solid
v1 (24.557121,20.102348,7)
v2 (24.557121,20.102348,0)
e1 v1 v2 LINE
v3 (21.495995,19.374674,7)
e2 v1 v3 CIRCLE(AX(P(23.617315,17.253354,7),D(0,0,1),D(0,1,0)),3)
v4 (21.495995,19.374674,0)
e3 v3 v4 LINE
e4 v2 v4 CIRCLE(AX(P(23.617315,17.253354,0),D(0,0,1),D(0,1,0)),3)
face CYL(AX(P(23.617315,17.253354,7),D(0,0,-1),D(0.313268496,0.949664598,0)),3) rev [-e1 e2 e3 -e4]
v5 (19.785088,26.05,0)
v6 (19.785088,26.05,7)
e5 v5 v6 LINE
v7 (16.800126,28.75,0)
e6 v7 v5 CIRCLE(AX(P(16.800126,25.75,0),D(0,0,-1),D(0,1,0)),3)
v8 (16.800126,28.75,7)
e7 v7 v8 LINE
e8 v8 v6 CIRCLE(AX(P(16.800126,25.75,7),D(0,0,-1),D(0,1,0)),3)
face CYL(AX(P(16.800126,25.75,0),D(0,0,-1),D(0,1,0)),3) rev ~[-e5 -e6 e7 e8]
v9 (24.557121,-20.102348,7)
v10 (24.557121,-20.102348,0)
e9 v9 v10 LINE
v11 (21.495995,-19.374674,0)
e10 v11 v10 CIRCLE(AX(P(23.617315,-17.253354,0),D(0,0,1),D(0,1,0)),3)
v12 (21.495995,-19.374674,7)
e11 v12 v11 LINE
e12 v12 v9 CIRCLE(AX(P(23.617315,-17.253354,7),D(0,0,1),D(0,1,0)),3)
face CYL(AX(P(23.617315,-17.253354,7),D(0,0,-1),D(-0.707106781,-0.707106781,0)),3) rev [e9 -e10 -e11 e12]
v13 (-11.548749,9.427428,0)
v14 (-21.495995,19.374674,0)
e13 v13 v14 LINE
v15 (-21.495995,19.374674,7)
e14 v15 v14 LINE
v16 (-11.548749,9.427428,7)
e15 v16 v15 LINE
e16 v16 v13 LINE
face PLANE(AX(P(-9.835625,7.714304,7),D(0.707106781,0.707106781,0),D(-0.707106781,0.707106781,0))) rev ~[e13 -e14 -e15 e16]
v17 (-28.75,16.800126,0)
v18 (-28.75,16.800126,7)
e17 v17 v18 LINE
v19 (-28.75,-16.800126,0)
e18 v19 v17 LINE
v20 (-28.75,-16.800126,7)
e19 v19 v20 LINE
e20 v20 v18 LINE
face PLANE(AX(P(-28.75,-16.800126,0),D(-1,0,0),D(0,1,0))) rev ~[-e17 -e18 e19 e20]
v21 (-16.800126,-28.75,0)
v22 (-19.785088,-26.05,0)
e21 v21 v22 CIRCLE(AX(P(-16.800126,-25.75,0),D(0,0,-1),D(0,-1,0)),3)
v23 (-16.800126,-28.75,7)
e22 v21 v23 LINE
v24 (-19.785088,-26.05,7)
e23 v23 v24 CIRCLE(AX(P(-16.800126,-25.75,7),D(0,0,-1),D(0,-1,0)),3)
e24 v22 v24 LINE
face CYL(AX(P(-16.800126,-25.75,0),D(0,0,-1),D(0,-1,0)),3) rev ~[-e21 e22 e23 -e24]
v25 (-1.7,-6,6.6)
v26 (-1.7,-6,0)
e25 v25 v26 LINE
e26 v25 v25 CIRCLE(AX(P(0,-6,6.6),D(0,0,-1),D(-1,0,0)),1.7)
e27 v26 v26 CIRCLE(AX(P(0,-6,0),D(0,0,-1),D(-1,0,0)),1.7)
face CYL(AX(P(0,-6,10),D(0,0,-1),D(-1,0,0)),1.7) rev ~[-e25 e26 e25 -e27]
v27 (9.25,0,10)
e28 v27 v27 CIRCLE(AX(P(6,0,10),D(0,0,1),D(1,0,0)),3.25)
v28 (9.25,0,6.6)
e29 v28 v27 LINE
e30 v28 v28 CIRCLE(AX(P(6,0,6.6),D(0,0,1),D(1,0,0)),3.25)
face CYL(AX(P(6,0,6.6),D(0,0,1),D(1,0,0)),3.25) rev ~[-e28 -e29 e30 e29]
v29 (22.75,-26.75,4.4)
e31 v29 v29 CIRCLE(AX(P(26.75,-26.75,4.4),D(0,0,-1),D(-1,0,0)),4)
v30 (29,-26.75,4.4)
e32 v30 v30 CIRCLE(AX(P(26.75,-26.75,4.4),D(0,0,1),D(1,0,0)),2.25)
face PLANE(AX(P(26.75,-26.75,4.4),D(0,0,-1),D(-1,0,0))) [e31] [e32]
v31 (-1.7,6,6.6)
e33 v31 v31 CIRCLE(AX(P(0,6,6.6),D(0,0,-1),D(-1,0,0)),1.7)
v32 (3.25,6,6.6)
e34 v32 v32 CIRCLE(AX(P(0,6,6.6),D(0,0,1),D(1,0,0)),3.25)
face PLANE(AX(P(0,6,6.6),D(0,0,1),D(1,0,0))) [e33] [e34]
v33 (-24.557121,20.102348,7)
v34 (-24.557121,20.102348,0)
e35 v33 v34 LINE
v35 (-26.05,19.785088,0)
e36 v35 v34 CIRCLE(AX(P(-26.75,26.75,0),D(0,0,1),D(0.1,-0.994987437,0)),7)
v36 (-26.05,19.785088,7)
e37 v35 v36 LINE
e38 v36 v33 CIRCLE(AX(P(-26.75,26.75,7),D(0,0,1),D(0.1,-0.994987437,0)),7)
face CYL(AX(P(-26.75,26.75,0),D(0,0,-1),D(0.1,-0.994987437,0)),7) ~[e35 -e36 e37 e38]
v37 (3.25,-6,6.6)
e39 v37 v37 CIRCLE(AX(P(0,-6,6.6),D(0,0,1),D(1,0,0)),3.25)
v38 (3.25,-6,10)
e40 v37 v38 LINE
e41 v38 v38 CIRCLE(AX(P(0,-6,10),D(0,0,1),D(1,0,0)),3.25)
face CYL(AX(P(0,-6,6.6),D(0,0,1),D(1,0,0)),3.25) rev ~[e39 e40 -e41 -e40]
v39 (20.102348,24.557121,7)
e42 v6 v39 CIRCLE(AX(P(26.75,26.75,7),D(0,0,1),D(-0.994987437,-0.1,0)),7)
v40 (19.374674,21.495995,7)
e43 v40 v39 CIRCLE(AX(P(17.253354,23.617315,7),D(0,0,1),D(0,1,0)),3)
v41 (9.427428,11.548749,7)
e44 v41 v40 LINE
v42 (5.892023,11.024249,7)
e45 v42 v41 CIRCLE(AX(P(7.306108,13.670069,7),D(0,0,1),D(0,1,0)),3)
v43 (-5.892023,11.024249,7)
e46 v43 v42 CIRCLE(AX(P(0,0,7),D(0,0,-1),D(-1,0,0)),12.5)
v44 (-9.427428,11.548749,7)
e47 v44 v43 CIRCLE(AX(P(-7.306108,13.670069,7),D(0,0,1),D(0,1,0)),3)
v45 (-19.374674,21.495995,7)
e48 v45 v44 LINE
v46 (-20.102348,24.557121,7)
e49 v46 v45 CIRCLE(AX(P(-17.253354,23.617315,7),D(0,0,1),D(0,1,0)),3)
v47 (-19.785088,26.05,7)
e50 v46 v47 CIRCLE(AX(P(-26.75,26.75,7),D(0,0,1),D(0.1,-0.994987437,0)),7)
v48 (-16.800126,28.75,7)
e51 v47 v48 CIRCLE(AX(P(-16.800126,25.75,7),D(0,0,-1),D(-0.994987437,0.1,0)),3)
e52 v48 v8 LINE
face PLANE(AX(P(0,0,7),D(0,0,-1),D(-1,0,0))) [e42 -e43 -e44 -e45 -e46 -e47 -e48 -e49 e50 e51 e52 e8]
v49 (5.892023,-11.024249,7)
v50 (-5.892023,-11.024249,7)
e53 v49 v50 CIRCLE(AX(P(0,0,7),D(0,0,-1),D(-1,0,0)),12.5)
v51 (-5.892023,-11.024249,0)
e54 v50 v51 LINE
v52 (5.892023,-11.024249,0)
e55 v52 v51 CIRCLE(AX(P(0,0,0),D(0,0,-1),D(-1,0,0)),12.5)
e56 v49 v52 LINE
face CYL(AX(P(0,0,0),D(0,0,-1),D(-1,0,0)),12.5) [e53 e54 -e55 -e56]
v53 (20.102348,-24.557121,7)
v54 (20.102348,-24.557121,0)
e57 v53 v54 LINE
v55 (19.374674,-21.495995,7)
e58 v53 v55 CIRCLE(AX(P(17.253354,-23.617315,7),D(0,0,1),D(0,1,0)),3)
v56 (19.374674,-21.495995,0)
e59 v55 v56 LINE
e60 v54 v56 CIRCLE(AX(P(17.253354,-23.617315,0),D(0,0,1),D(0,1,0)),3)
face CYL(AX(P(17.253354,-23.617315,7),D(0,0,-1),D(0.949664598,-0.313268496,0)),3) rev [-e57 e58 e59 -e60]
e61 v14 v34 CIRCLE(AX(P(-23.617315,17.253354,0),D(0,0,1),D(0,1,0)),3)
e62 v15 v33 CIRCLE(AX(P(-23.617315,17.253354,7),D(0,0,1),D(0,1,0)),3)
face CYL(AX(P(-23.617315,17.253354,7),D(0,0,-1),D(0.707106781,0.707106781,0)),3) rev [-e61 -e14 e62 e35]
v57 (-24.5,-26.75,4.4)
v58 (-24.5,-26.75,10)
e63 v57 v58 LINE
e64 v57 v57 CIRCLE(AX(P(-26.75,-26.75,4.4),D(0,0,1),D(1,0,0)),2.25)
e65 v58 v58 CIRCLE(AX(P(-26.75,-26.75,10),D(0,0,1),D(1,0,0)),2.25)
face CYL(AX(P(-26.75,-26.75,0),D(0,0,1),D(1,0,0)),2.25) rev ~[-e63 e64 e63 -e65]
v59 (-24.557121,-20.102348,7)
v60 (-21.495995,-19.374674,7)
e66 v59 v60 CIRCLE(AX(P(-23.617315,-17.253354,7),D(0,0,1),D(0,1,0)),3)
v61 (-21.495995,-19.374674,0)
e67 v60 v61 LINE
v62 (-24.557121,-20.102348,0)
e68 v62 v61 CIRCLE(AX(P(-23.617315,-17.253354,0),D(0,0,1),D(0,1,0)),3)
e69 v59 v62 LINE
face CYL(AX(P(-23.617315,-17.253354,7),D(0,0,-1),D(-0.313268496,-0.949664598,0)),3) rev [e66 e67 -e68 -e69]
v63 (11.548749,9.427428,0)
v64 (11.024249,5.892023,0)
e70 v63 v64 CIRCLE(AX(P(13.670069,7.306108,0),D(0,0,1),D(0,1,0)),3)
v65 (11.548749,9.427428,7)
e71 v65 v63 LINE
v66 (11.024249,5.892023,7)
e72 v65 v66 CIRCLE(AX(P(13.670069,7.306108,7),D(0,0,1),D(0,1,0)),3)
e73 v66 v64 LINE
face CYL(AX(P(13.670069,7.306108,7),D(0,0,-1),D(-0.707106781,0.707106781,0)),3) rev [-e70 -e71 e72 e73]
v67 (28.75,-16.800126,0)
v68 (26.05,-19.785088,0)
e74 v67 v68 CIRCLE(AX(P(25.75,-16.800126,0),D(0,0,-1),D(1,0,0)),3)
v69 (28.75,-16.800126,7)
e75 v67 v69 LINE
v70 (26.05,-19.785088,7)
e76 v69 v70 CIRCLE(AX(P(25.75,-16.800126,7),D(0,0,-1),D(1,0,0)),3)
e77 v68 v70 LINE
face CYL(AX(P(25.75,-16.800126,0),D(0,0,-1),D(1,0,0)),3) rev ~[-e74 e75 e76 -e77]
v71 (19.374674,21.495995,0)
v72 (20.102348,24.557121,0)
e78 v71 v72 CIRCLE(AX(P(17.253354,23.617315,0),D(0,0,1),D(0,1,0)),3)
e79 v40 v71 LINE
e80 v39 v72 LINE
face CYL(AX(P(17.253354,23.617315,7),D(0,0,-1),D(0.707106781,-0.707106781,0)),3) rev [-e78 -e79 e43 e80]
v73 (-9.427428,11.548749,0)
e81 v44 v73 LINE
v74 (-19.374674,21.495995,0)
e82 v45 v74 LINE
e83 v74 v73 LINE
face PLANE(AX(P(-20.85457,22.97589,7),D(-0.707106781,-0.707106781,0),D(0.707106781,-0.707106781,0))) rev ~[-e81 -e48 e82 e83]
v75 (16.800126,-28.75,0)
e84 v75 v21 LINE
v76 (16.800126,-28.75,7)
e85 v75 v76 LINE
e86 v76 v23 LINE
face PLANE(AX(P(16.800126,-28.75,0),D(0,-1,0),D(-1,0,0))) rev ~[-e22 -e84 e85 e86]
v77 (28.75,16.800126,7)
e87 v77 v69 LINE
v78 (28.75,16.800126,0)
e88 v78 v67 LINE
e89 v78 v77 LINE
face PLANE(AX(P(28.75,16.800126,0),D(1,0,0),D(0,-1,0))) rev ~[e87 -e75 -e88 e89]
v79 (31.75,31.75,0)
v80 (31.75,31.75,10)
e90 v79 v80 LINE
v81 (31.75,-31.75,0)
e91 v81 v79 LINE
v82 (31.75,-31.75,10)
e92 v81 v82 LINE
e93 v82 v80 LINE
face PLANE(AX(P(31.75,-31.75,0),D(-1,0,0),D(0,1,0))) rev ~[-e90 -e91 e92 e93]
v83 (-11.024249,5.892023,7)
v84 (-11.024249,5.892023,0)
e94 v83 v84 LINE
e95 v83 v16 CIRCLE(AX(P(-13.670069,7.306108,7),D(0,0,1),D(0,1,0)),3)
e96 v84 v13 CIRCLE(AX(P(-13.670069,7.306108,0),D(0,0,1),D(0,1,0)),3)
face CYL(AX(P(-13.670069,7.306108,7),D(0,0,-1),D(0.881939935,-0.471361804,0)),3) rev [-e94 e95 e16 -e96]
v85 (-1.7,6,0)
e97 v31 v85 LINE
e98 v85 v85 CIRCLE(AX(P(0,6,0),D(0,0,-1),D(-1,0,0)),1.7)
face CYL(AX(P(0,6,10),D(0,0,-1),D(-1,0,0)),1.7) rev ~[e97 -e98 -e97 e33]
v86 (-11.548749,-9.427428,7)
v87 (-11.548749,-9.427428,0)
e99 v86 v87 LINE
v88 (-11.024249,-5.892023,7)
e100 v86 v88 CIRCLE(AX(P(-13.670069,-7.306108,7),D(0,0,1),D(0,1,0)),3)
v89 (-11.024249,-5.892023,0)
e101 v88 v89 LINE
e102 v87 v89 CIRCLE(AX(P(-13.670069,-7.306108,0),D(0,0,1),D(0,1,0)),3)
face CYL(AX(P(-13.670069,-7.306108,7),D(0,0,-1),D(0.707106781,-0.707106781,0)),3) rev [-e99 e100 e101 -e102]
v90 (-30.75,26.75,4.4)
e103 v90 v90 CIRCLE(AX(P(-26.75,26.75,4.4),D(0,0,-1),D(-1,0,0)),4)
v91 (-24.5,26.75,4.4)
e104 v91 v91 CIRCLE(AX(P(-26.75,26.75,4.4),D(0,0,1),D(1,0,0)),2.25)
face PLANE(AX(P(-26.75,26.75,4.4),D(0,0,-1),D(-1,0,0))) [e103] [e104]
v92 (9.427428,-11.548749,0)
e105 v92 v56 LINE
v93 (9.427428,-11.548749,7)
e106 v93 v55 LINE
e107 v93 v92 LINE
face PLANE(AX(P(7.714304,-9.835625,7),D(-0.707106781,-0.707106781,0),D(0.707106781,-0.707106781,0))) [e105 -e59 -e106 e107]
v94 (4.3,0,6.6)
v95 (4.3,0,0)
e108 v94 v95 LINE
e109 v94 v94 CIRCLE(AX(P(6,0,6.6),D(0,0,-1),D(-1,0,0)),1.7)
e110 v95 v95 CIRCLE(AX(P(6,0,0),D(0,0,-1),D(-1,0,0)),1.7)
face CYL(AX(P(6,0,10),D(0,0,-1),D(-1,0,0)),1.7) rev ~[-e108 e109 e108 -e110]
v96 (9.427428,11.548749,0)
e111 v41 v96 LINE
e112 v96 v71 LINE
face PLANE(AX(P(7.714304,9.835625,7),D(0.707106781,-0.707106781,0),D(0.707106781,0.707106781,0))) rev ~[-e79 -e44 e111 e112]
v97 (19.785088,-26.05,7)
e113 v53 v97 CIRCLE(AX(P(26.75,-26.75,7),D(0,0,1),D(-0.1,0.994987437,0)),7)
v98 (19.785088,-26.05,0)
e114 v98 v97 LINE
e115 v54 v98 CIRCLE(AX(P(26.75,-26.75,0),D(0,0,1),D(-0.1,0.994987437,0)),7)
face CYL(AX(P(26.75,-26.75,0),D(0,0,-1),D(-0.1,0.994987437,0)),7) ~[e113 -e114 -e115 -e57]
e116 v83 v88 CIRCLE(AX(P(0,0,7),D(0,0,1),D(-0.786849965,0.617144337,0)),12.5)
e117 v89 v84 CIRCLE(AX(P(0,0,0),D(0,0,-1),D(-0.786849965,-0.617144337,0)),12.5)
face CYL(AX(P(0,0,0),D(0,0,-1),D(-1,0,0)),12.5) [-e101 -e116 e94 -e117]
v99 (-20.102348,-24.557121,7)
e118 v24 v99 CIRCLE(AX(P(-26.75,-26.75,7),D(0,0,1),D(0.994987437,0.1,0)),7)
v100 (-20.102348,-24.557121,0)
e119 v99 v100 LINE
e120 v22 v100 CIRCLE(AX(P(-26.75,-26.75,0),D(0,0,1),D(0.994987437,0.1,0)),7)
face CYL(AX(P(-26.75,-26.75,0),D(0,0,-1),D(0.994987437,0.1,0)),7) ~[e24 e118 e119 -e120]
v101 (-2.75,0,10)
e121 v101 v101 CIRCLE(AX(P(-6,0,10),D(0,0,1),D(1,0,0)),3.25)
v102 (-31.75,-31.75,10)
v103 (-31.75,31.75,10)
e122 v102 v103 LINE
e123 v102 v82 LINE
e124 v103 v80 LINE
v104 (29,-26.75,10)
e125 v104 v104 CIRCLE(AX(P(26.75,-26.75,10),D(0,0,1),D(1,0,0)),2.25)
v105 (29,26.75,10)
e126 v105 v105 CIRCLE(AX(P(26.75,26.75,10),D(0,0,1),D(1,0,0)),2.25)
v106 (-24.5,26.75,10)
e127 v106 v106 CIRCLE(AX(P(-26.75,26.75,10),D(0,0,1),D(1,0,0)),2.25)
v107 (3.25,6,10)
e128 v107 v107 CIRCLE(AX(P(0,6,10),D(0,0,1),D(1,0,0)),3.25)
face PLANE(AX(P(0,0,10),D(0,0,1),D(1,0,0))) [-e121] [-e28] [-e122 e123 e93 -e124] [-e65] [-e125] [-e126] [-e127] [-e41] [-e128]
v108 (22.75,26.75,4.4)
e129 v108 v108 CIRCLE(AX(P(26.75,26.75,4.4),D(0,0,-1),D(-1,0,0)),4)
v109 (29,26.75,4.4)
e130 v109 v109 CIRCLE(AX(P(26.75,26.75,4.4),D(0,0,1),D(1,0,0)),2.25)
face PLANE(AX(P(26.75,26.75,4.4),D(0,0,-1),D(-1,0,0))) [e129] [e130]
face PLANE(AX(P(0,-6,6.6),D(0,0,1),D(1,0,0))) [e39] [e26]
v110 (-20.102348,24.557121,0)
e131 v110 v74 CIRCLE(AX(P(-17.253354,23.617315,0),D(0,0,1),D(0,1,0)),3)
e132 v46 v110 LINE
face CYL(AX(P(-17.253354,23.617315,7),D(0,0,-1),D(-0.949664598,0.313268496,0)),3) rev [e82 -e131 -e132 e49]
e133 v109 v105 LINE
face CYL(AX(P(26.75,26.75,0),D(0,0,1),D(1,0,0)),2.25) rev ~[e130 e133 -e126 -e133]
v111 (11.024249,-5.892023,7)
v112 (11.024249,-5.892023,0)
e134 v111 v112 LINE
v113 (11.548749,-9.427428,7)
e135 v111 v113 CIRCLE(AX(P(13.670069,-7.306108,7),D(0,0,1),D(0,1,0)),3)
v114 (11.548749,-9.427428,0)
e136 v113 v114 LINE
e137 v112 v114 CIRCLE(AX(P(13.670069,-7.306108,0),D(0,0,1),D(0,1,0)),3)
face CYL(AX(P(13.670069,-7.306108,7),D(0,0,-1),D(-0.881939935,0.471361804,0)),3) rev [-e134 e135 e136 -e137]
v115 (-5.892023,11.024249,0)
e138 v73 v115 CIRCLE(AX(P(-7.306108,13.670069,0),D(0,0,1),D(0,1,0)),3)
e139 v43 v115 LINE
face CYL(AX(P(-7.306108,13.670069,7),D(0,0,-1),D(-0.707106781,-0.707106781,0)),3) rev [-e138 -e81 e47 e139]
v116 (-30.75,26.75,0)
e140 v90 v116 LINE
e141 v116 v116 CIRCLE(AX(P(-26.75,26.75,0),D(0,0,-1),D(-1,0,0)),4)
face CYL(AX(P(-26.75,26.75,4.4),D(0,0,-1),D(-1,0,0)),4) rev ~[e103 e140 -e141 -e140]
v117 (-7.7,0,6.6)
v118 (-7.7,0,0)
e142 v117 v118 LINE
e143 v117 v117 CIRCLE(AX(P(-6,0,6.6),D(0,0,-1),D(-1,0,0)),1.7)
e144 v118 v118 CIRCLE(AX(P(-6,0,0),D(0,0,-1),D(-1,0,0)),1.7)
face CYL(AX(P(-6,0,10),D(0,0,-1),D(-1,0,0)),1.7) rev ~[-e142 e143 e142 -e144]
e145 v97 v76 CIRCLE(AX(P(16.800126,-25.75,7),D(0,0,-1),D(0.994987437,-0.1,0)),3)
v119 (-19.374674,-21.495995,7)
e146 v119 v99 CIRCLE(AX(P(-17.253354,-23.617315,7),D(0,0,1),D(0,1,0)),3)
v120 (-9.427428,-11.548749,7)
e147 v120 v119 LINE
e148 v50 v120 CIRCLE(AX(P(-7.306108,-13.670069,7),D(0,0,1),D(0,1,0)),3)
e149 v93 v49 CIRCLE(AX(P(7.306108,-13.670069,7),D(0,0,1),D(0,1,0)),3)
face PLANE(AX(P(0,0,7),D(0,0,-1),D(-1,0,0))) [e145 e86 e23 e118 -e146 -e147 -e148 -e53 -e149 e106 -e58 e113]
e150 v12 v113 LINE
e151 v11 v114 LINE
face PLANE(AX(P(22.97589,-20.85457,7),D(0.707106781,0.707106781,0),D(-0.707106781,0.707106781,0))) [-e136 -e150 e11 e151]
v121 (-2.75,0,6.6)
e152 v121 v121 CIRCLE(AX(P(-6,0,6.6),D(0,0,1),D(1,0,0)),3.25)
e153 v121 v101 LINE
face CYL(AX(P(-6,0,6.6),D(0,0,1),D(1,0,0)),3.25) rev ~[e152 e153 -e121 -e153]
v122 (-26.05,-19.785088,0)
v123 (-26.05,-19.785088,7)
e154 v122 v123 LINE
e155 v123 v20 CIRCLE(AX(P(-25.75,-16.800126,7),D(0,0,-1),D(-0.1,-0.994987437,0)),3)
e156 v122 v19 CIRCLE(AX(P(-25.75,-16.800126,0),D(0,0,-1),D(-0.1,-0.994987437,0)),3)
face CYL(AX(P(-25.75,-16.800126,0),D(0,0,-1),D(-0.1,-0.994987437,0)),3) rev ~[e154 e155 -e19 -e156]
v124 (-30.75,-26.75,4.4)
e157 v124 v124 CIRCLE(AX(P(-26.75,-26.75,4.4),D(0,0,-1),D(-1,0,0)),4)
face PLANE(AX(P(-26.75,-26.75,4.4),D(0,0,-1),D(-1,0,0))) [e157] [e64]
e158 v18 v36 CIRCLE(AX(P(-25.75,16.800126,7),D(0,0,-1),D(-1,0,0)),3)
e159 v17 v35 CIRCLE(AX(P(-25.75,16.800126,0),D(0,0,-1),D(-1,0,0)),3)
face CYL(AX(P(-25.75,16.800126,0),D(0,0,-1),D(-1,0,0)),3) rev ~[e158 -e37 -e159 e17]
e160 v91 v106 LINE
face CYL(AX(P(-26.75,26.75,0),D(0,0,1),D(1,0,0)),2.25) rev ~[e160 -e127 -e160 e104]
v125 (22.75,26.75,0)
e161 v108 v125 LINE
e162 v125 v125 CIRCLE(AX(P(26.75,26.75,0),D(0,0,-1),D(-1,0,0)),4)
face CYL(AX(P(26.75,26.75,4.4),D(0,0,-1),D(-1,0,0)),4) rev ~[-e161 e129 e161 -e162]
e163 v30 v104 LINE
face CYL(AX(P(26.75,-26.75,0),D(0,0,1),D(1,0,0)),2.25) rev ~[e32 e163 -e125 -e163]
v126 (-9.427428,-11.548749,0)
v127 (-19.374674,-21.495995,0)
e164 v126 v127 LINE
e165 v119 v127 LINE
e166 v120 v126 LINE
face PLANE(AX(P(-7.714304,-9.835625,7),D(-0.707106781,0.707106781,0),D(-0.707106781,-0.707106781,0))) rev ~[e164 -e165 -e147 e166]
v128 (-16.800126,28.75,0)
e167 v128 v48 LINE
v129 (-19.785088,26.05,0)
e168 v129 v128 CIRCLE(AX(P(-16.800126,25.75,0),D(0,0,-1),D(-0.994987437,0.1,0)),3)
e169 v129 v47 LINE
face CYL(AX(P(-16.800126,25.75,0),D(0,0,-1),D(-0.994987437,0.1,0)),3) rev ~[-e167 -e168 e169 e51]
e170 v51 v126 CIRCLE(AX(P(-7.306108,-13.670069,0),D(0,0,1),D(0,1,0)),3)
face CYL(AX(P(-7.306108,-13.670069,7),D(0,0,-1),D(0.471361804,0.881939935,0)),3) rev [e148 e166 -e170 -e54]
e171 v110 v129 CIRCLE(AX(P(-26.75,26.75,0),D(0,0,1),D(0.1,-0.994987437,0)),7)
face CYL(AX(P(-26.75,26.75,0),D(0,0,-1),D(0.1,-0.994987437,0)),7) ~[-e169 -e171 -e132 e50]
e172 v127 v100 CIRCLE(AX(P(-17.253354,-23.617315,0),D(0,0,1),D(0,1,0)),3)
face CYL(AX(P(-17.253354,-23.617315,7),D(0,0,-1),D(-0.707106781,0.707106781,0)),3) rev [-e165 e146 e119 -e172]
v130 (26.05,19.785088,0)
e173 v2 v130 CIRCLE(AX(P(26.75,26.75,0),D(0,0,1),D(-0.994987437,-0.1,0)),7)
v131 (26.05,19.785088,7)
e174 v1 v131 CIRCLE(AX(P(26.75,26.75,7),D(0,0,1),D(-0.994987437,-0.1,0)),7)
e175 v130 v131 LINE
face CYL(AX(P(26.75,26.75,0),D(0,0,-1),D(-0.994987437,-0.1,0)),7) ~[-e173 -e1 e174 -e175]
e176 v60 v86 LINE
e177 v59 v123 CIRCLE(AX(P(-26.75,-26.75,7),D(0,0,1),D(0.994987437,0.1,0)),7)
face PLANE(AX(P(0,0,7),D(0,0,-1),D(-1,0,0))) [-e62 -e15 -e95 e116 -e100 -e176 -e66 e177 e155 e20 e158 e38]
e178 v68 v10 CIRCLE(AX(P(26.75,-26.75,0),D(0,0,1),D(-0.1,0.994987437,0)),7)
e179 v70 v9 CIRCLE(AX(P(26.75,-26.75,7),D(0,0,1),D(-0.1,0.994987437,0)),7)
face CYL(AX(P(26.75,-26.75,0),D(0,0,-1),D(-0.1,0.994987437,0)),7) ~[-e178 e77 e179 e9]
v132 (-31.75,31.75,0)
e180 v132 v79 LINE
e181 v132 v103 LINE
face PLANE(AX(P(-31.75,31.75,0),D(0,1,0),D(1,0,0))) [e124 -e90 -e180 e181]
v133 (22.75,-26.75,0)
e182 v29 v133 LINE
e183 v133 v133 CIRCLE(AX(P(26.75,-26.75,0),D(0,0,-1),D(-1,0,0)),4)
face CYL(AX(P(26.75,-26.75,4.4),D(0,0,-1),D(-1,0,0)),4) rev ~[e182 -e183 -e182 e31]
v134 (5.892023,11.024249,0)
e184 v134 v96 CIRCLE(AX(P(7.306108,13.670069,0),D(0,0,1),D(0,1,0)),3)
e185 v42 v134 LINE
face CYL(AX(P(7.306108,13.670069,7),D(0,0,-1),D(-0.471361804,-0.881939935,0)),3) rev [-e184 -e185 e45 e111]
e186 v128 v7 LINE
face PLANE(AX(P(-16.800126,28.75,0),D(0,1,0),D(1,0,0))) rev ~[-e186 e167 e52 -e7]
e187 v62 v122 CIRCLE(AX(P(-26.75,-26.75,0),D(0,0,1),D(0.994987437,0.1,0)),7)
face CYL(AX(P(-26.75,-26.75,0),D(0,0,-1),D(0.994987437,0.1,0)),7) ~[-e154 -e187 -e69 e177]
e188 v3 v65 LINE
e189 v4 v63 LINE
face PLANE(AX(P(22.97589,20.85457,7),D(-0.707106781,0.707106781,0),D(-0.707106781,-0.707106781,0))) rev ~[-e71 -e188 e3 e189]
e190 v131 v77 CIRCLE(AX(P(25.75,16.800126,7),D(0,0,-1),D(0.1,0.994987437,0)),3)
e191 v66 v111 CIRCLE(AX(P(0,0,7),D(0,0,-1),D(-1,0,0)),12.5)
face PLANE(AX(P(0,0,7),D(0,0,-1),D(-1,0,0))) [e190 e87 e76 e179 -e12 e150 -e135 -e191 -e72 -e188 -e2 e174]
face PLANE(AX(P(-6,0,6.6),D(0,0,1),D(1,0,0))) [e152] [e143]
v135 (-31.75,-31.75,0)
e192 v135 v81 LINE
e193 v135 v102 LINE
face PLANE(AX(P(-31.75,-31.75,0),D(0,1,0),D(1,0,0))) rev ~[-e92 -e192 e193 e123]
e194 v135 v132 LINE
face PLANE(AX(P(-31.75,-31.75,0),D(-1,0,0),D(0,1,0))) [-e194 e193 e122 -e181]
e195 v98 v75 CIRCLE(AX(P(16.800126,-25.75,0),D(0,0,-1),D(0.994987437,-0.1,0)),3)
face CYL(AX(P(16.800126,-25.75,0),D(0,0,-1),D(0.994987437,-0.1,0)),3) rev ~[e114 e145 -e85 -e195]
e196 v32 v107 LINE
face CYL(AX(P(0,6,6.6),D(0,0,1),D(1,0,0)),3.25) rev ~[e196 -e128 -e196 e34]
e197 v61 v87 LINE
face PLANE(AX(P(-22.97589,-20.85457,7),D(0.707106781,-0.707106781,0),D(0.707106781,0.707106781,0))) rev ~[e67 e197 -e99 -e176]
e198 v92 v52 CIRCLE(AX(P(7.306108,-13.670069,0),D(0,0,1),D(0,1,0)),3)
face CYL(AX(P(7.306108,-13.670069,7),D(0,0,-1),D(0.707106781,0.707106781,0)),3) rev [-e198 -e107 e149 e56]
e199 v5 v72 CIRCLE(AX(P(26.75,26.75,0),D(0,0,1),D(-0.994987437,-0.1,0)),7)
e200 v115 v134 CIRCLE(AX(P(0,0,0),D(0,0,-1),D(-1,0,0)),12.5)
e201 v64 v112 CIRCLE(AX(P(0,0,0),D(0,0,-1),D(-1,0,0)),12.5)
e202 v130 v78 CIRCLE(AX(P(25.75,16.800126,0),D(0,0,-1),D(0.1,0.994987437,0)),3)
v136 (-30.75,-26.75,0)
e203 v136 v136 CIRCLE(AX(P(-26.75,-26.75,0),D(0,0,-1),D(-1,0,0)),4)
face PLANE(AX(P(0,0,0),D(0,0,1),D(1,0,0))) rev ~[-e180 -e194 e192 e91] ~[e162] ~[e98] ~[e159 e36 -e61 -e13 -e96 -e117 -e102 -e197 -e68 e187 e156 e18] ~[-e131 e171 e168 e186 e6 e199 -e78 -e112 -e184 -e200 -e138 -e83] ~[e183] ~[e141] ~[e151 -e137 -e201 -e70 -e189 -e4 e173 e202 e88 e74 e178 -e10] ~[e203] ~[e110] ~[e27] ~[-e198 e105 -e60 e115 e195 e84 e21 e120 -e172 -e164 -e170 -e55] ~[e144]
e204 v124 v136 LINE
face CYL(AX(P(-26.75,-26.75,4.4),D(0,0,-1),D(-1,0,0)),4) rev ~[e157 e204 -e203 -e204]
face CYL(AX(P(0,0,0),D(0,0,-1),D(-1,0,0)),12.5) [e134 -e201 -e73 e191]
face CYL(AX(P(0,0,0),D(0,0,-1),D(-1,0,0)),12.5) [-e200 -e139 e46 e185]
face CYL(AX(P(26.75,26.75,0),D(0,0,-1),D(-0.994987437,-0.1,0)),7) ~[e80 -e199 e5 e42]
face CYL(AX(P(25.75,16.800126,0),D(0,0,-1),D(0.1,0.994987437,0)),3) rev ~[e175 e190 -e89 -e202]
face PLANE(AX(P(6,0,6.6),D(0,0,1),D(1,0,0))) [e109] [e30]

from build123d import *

# Parameters (mm, degrees)
SKETCH_1_W                  = 63.5
SKETCH_1_H                  = 63.5
EXTRUDE_1_DEPTH             = 10
HOLE_WIZARD_M31_D           = 3.4
HOLE_WIZARD_M31_CBORE_D     = 6.5
HOLE_WIZARD_M31_CBORE_DEPTH = 3.4
HOLE_WIZARD_M41_D           = 4.5
HOLE_WIZARD_M41_CBORE_D     = 8
HOLE_WIZARD_M41_CBORE_DEPTH = 4.4
SKETCH_8_R                  = 12.5
CUT_EXTRUDE_1_DEPTH         = 7
EXTRUDE_2_DEPTH             = 7
FILLET_1_R                  = 3


with BuildPart() as part:
    # Эскиз1 → Бобышка-Вытянуть1 (new body)
    with BuildSketch(Plane.XY):
        Rectangle(SKETCH_1_W, SKETCH_1_H)
    extrude(amount=EXTRUDE_1_DEPTH)

    # Цековка для винта с внутренним шестигранником M31 (through all)
    with Locations(Plane.XY.offset(10)):
        with Locations((0, 6), (-6, 0), (0, -6), (6, 0)):
            CounterBoreHole(HOLE_WIZARD_M31_D / 2, HOLE_WIZARD_M31_CBORE_D / 2, HOLE_WIZARD_M31_CBORE_DEPTH)

    # Цековка для винта с внутренним шестигранником M41 (through all)
    with Locations(Plane(origin=(0, 0, 0), x_dir=(-1, 0, 0), z_dir=(0, 0, -1))):
        with Locations((-26.75, 26.75), (-26.75, -26.75), (26.75, -26.75), (26.75, 26.75)):
            CounterBoreHole(HOLE_WIZARD_M41_D / 2, HOLE_WIZARD_M41_CBORE_D / 2, HOLE_WIZARD_M41_CBORE_DEPTH)

    # Эскиз8 → Вырез-Вытянуть1 (cut)
    with BuildSketch(Plane(origin=(0, 0, 0), x_dir=(-1, 0, 0), z_dir=(0, 0, -1))):
        with BuildLine():
            Line((-28.75, 16.800125629), (-28.75, -16.800125629))
            ThreePointArc((-28.75, -16.800125629), (-27.974859546, -18.812586809), (-26.05, -19.78508794))
            ThreePointArc((-26.05, -19.78508794), (-21.800252532, -21.800252532), (-19.78508794, -26.05))
            ThreePointArc((-19.78508794, -26.05), (-18.812586809, -27.974859546), (-16.800125629, -28.75))
            Line((-16.800125629, -28.75), (16.800125629, -28.75))
            ThreePointArc((16.800125629, -28.75), (18.812586809, -27.974859546), (19.78508794, -26.05))
            ThreePointArc((19.78508794, -26.05), (21.800252532, -21.800252532), (26.05, -19.78508794))
            ThreePointArc((26.05, -19.78508794), (27.974859546, -18.812586809), (28.75, -16.800125629))
            Line((28.75, -16.800125629), (28.75, 16.800125629))
            ThreePointArc((28.75, 16.800125629), (27.974859546, 18.812586809), (26.05, 19.78508794))
            ThreePointArc((26.05, 19.78508794), (21.800252532, 21.800252532), (19.78508794, 26.05))
            ThreePointArc((19.78508794, 26.05), (18.812586809, 27.974859546), (16.800125629, 28.75))
            Line((16.800125629, 28.75), (-16.800125629, 28.75))
            ThreePointArc((-16.800125629, 28.75), (-18.812586809, 27.974859546), (-19.78508794, 26.05))
            ThreePointArc((-19.78508794, 26.05), (-21.800252532, 21.800252532), (-26.05, 19.78508794))
            ThreePointArc((-26.05, 19.78508794), (-27.974859546, 18.812586809), (-28.75, 16.800125629))
        make_face()
        Circle(SKETCH_8_R, mode=Mode.SUBTRACT)
    extrude(amount=-CUT_EXTRUDE_1_DEPTH, mode=Mode.SUBTRACT)

    # Эскиз9 → Бобышка-Вытянуть2 (add)
    with BuildSketch(Plane(origin=(0, 0, 7), x_dir=(-1, 0, 0), z_dir=(0, 0, -1))):
        with BuildLine():
            Line((20.854569927, 22.97589027), (7.714304216, 9.835624559))
            ThreePointArc((7.714304216, 9.835624559), (8.838834765, 8.838834765), (9.835624559, 7.714304216))
            Line((9.835624559, 7.714304216), (22.97589027, 20.854569927))
            ThreePointArc((22.97589027, 20.854569927), (21.800252532, 21.800252532), (20.854569927, 22.97589027))
        make_face()
        with BuildLine():
            Line((-22.97589027, 20.854569927), (-9.835624559, 7.714304216))
            ThreePointArc((-9.835624559, 7.714304216), (-8.838834765, 8.838834765), (-7.714304216, 9.835624559))
            Line((-7.714304216, 9.835624559), (-20.854569927, 22.97589027))
            ThreePointArc((-20.854569927, 22.97589027), (-21.800252532, 21.800252532), (-22.97589027, 20.854569927))
        make_face()
        with BuildLine():
            Line((7.714304216, -9.835624559), (20.854569927, -22.97589027))
            ThreePointArc((20.854569927, -22.97589027), (21.800252532, -21.800252532), (22.97589027, -20.854569927))
            Line((22.97589027, -20.854569927), (9.835624559, -7.714304216))
            ThreePointArc((9.835624559, -7.714304216), (8.838834765, -8.838834765), (7.714304216, -9.835624559))
        make_face()
        with BuildLine():
            Line((-7.714304216, -9.835624559), (-20.854569927, -22.97589027))
            ThreePointArc((-20.854569927, -22.97589027), (-21.800252532, -21.800252532), (-22.97589027, -20.854569927))
            Line((-22.97589027, -20.854569927), (-9.835624559, -7.714304216))
            ThreePointArc((-9.835624559, -7.714304216), (-8.838834765, -8.838834765), (-7.714304216, -9.835624559))
        make_face()
    extrude(amount=EXTRUDE_2_DEPTH)

    # Скругление1
    fillet_1_edges = [part.edges().sort_by_distance(p)[0] for p in [
        (-20.854569927, 22.97589027, 3.5),
        (-22.97589027, 20.854569927, 3.5),
        (-9.835624559, 7.714304216, 3.5),
        (-7.714304216, 9.835624559, 3.5),
        (9.835624559, -7.714304216, 3.5),
        (7.714304216, -9.835624559, 3.5),
        (20.854569927, -22.97589027, 3.5),
        (22.97589027, -20.854569927, 3.5),
        (22.97589027, 20.854569927, 3.5),
        (20.854569927, 22.97589027, 3.5),
        (7.714304216, 9.835624559, 3.5),
        (9.835624559, 7.714304216, 3.5),
        (-7.714304216, -9.835624559, 3.5),
        (-9.835624559, -7.714304216, 3.5),
        (-22.97589027, -20.854569927, 3.5),
        (-20.854569927, -22.97589027, 3.5),
    ]]
    fillet(fillet_1_edges, radius=FILLET_1_R)


solid = part.part
